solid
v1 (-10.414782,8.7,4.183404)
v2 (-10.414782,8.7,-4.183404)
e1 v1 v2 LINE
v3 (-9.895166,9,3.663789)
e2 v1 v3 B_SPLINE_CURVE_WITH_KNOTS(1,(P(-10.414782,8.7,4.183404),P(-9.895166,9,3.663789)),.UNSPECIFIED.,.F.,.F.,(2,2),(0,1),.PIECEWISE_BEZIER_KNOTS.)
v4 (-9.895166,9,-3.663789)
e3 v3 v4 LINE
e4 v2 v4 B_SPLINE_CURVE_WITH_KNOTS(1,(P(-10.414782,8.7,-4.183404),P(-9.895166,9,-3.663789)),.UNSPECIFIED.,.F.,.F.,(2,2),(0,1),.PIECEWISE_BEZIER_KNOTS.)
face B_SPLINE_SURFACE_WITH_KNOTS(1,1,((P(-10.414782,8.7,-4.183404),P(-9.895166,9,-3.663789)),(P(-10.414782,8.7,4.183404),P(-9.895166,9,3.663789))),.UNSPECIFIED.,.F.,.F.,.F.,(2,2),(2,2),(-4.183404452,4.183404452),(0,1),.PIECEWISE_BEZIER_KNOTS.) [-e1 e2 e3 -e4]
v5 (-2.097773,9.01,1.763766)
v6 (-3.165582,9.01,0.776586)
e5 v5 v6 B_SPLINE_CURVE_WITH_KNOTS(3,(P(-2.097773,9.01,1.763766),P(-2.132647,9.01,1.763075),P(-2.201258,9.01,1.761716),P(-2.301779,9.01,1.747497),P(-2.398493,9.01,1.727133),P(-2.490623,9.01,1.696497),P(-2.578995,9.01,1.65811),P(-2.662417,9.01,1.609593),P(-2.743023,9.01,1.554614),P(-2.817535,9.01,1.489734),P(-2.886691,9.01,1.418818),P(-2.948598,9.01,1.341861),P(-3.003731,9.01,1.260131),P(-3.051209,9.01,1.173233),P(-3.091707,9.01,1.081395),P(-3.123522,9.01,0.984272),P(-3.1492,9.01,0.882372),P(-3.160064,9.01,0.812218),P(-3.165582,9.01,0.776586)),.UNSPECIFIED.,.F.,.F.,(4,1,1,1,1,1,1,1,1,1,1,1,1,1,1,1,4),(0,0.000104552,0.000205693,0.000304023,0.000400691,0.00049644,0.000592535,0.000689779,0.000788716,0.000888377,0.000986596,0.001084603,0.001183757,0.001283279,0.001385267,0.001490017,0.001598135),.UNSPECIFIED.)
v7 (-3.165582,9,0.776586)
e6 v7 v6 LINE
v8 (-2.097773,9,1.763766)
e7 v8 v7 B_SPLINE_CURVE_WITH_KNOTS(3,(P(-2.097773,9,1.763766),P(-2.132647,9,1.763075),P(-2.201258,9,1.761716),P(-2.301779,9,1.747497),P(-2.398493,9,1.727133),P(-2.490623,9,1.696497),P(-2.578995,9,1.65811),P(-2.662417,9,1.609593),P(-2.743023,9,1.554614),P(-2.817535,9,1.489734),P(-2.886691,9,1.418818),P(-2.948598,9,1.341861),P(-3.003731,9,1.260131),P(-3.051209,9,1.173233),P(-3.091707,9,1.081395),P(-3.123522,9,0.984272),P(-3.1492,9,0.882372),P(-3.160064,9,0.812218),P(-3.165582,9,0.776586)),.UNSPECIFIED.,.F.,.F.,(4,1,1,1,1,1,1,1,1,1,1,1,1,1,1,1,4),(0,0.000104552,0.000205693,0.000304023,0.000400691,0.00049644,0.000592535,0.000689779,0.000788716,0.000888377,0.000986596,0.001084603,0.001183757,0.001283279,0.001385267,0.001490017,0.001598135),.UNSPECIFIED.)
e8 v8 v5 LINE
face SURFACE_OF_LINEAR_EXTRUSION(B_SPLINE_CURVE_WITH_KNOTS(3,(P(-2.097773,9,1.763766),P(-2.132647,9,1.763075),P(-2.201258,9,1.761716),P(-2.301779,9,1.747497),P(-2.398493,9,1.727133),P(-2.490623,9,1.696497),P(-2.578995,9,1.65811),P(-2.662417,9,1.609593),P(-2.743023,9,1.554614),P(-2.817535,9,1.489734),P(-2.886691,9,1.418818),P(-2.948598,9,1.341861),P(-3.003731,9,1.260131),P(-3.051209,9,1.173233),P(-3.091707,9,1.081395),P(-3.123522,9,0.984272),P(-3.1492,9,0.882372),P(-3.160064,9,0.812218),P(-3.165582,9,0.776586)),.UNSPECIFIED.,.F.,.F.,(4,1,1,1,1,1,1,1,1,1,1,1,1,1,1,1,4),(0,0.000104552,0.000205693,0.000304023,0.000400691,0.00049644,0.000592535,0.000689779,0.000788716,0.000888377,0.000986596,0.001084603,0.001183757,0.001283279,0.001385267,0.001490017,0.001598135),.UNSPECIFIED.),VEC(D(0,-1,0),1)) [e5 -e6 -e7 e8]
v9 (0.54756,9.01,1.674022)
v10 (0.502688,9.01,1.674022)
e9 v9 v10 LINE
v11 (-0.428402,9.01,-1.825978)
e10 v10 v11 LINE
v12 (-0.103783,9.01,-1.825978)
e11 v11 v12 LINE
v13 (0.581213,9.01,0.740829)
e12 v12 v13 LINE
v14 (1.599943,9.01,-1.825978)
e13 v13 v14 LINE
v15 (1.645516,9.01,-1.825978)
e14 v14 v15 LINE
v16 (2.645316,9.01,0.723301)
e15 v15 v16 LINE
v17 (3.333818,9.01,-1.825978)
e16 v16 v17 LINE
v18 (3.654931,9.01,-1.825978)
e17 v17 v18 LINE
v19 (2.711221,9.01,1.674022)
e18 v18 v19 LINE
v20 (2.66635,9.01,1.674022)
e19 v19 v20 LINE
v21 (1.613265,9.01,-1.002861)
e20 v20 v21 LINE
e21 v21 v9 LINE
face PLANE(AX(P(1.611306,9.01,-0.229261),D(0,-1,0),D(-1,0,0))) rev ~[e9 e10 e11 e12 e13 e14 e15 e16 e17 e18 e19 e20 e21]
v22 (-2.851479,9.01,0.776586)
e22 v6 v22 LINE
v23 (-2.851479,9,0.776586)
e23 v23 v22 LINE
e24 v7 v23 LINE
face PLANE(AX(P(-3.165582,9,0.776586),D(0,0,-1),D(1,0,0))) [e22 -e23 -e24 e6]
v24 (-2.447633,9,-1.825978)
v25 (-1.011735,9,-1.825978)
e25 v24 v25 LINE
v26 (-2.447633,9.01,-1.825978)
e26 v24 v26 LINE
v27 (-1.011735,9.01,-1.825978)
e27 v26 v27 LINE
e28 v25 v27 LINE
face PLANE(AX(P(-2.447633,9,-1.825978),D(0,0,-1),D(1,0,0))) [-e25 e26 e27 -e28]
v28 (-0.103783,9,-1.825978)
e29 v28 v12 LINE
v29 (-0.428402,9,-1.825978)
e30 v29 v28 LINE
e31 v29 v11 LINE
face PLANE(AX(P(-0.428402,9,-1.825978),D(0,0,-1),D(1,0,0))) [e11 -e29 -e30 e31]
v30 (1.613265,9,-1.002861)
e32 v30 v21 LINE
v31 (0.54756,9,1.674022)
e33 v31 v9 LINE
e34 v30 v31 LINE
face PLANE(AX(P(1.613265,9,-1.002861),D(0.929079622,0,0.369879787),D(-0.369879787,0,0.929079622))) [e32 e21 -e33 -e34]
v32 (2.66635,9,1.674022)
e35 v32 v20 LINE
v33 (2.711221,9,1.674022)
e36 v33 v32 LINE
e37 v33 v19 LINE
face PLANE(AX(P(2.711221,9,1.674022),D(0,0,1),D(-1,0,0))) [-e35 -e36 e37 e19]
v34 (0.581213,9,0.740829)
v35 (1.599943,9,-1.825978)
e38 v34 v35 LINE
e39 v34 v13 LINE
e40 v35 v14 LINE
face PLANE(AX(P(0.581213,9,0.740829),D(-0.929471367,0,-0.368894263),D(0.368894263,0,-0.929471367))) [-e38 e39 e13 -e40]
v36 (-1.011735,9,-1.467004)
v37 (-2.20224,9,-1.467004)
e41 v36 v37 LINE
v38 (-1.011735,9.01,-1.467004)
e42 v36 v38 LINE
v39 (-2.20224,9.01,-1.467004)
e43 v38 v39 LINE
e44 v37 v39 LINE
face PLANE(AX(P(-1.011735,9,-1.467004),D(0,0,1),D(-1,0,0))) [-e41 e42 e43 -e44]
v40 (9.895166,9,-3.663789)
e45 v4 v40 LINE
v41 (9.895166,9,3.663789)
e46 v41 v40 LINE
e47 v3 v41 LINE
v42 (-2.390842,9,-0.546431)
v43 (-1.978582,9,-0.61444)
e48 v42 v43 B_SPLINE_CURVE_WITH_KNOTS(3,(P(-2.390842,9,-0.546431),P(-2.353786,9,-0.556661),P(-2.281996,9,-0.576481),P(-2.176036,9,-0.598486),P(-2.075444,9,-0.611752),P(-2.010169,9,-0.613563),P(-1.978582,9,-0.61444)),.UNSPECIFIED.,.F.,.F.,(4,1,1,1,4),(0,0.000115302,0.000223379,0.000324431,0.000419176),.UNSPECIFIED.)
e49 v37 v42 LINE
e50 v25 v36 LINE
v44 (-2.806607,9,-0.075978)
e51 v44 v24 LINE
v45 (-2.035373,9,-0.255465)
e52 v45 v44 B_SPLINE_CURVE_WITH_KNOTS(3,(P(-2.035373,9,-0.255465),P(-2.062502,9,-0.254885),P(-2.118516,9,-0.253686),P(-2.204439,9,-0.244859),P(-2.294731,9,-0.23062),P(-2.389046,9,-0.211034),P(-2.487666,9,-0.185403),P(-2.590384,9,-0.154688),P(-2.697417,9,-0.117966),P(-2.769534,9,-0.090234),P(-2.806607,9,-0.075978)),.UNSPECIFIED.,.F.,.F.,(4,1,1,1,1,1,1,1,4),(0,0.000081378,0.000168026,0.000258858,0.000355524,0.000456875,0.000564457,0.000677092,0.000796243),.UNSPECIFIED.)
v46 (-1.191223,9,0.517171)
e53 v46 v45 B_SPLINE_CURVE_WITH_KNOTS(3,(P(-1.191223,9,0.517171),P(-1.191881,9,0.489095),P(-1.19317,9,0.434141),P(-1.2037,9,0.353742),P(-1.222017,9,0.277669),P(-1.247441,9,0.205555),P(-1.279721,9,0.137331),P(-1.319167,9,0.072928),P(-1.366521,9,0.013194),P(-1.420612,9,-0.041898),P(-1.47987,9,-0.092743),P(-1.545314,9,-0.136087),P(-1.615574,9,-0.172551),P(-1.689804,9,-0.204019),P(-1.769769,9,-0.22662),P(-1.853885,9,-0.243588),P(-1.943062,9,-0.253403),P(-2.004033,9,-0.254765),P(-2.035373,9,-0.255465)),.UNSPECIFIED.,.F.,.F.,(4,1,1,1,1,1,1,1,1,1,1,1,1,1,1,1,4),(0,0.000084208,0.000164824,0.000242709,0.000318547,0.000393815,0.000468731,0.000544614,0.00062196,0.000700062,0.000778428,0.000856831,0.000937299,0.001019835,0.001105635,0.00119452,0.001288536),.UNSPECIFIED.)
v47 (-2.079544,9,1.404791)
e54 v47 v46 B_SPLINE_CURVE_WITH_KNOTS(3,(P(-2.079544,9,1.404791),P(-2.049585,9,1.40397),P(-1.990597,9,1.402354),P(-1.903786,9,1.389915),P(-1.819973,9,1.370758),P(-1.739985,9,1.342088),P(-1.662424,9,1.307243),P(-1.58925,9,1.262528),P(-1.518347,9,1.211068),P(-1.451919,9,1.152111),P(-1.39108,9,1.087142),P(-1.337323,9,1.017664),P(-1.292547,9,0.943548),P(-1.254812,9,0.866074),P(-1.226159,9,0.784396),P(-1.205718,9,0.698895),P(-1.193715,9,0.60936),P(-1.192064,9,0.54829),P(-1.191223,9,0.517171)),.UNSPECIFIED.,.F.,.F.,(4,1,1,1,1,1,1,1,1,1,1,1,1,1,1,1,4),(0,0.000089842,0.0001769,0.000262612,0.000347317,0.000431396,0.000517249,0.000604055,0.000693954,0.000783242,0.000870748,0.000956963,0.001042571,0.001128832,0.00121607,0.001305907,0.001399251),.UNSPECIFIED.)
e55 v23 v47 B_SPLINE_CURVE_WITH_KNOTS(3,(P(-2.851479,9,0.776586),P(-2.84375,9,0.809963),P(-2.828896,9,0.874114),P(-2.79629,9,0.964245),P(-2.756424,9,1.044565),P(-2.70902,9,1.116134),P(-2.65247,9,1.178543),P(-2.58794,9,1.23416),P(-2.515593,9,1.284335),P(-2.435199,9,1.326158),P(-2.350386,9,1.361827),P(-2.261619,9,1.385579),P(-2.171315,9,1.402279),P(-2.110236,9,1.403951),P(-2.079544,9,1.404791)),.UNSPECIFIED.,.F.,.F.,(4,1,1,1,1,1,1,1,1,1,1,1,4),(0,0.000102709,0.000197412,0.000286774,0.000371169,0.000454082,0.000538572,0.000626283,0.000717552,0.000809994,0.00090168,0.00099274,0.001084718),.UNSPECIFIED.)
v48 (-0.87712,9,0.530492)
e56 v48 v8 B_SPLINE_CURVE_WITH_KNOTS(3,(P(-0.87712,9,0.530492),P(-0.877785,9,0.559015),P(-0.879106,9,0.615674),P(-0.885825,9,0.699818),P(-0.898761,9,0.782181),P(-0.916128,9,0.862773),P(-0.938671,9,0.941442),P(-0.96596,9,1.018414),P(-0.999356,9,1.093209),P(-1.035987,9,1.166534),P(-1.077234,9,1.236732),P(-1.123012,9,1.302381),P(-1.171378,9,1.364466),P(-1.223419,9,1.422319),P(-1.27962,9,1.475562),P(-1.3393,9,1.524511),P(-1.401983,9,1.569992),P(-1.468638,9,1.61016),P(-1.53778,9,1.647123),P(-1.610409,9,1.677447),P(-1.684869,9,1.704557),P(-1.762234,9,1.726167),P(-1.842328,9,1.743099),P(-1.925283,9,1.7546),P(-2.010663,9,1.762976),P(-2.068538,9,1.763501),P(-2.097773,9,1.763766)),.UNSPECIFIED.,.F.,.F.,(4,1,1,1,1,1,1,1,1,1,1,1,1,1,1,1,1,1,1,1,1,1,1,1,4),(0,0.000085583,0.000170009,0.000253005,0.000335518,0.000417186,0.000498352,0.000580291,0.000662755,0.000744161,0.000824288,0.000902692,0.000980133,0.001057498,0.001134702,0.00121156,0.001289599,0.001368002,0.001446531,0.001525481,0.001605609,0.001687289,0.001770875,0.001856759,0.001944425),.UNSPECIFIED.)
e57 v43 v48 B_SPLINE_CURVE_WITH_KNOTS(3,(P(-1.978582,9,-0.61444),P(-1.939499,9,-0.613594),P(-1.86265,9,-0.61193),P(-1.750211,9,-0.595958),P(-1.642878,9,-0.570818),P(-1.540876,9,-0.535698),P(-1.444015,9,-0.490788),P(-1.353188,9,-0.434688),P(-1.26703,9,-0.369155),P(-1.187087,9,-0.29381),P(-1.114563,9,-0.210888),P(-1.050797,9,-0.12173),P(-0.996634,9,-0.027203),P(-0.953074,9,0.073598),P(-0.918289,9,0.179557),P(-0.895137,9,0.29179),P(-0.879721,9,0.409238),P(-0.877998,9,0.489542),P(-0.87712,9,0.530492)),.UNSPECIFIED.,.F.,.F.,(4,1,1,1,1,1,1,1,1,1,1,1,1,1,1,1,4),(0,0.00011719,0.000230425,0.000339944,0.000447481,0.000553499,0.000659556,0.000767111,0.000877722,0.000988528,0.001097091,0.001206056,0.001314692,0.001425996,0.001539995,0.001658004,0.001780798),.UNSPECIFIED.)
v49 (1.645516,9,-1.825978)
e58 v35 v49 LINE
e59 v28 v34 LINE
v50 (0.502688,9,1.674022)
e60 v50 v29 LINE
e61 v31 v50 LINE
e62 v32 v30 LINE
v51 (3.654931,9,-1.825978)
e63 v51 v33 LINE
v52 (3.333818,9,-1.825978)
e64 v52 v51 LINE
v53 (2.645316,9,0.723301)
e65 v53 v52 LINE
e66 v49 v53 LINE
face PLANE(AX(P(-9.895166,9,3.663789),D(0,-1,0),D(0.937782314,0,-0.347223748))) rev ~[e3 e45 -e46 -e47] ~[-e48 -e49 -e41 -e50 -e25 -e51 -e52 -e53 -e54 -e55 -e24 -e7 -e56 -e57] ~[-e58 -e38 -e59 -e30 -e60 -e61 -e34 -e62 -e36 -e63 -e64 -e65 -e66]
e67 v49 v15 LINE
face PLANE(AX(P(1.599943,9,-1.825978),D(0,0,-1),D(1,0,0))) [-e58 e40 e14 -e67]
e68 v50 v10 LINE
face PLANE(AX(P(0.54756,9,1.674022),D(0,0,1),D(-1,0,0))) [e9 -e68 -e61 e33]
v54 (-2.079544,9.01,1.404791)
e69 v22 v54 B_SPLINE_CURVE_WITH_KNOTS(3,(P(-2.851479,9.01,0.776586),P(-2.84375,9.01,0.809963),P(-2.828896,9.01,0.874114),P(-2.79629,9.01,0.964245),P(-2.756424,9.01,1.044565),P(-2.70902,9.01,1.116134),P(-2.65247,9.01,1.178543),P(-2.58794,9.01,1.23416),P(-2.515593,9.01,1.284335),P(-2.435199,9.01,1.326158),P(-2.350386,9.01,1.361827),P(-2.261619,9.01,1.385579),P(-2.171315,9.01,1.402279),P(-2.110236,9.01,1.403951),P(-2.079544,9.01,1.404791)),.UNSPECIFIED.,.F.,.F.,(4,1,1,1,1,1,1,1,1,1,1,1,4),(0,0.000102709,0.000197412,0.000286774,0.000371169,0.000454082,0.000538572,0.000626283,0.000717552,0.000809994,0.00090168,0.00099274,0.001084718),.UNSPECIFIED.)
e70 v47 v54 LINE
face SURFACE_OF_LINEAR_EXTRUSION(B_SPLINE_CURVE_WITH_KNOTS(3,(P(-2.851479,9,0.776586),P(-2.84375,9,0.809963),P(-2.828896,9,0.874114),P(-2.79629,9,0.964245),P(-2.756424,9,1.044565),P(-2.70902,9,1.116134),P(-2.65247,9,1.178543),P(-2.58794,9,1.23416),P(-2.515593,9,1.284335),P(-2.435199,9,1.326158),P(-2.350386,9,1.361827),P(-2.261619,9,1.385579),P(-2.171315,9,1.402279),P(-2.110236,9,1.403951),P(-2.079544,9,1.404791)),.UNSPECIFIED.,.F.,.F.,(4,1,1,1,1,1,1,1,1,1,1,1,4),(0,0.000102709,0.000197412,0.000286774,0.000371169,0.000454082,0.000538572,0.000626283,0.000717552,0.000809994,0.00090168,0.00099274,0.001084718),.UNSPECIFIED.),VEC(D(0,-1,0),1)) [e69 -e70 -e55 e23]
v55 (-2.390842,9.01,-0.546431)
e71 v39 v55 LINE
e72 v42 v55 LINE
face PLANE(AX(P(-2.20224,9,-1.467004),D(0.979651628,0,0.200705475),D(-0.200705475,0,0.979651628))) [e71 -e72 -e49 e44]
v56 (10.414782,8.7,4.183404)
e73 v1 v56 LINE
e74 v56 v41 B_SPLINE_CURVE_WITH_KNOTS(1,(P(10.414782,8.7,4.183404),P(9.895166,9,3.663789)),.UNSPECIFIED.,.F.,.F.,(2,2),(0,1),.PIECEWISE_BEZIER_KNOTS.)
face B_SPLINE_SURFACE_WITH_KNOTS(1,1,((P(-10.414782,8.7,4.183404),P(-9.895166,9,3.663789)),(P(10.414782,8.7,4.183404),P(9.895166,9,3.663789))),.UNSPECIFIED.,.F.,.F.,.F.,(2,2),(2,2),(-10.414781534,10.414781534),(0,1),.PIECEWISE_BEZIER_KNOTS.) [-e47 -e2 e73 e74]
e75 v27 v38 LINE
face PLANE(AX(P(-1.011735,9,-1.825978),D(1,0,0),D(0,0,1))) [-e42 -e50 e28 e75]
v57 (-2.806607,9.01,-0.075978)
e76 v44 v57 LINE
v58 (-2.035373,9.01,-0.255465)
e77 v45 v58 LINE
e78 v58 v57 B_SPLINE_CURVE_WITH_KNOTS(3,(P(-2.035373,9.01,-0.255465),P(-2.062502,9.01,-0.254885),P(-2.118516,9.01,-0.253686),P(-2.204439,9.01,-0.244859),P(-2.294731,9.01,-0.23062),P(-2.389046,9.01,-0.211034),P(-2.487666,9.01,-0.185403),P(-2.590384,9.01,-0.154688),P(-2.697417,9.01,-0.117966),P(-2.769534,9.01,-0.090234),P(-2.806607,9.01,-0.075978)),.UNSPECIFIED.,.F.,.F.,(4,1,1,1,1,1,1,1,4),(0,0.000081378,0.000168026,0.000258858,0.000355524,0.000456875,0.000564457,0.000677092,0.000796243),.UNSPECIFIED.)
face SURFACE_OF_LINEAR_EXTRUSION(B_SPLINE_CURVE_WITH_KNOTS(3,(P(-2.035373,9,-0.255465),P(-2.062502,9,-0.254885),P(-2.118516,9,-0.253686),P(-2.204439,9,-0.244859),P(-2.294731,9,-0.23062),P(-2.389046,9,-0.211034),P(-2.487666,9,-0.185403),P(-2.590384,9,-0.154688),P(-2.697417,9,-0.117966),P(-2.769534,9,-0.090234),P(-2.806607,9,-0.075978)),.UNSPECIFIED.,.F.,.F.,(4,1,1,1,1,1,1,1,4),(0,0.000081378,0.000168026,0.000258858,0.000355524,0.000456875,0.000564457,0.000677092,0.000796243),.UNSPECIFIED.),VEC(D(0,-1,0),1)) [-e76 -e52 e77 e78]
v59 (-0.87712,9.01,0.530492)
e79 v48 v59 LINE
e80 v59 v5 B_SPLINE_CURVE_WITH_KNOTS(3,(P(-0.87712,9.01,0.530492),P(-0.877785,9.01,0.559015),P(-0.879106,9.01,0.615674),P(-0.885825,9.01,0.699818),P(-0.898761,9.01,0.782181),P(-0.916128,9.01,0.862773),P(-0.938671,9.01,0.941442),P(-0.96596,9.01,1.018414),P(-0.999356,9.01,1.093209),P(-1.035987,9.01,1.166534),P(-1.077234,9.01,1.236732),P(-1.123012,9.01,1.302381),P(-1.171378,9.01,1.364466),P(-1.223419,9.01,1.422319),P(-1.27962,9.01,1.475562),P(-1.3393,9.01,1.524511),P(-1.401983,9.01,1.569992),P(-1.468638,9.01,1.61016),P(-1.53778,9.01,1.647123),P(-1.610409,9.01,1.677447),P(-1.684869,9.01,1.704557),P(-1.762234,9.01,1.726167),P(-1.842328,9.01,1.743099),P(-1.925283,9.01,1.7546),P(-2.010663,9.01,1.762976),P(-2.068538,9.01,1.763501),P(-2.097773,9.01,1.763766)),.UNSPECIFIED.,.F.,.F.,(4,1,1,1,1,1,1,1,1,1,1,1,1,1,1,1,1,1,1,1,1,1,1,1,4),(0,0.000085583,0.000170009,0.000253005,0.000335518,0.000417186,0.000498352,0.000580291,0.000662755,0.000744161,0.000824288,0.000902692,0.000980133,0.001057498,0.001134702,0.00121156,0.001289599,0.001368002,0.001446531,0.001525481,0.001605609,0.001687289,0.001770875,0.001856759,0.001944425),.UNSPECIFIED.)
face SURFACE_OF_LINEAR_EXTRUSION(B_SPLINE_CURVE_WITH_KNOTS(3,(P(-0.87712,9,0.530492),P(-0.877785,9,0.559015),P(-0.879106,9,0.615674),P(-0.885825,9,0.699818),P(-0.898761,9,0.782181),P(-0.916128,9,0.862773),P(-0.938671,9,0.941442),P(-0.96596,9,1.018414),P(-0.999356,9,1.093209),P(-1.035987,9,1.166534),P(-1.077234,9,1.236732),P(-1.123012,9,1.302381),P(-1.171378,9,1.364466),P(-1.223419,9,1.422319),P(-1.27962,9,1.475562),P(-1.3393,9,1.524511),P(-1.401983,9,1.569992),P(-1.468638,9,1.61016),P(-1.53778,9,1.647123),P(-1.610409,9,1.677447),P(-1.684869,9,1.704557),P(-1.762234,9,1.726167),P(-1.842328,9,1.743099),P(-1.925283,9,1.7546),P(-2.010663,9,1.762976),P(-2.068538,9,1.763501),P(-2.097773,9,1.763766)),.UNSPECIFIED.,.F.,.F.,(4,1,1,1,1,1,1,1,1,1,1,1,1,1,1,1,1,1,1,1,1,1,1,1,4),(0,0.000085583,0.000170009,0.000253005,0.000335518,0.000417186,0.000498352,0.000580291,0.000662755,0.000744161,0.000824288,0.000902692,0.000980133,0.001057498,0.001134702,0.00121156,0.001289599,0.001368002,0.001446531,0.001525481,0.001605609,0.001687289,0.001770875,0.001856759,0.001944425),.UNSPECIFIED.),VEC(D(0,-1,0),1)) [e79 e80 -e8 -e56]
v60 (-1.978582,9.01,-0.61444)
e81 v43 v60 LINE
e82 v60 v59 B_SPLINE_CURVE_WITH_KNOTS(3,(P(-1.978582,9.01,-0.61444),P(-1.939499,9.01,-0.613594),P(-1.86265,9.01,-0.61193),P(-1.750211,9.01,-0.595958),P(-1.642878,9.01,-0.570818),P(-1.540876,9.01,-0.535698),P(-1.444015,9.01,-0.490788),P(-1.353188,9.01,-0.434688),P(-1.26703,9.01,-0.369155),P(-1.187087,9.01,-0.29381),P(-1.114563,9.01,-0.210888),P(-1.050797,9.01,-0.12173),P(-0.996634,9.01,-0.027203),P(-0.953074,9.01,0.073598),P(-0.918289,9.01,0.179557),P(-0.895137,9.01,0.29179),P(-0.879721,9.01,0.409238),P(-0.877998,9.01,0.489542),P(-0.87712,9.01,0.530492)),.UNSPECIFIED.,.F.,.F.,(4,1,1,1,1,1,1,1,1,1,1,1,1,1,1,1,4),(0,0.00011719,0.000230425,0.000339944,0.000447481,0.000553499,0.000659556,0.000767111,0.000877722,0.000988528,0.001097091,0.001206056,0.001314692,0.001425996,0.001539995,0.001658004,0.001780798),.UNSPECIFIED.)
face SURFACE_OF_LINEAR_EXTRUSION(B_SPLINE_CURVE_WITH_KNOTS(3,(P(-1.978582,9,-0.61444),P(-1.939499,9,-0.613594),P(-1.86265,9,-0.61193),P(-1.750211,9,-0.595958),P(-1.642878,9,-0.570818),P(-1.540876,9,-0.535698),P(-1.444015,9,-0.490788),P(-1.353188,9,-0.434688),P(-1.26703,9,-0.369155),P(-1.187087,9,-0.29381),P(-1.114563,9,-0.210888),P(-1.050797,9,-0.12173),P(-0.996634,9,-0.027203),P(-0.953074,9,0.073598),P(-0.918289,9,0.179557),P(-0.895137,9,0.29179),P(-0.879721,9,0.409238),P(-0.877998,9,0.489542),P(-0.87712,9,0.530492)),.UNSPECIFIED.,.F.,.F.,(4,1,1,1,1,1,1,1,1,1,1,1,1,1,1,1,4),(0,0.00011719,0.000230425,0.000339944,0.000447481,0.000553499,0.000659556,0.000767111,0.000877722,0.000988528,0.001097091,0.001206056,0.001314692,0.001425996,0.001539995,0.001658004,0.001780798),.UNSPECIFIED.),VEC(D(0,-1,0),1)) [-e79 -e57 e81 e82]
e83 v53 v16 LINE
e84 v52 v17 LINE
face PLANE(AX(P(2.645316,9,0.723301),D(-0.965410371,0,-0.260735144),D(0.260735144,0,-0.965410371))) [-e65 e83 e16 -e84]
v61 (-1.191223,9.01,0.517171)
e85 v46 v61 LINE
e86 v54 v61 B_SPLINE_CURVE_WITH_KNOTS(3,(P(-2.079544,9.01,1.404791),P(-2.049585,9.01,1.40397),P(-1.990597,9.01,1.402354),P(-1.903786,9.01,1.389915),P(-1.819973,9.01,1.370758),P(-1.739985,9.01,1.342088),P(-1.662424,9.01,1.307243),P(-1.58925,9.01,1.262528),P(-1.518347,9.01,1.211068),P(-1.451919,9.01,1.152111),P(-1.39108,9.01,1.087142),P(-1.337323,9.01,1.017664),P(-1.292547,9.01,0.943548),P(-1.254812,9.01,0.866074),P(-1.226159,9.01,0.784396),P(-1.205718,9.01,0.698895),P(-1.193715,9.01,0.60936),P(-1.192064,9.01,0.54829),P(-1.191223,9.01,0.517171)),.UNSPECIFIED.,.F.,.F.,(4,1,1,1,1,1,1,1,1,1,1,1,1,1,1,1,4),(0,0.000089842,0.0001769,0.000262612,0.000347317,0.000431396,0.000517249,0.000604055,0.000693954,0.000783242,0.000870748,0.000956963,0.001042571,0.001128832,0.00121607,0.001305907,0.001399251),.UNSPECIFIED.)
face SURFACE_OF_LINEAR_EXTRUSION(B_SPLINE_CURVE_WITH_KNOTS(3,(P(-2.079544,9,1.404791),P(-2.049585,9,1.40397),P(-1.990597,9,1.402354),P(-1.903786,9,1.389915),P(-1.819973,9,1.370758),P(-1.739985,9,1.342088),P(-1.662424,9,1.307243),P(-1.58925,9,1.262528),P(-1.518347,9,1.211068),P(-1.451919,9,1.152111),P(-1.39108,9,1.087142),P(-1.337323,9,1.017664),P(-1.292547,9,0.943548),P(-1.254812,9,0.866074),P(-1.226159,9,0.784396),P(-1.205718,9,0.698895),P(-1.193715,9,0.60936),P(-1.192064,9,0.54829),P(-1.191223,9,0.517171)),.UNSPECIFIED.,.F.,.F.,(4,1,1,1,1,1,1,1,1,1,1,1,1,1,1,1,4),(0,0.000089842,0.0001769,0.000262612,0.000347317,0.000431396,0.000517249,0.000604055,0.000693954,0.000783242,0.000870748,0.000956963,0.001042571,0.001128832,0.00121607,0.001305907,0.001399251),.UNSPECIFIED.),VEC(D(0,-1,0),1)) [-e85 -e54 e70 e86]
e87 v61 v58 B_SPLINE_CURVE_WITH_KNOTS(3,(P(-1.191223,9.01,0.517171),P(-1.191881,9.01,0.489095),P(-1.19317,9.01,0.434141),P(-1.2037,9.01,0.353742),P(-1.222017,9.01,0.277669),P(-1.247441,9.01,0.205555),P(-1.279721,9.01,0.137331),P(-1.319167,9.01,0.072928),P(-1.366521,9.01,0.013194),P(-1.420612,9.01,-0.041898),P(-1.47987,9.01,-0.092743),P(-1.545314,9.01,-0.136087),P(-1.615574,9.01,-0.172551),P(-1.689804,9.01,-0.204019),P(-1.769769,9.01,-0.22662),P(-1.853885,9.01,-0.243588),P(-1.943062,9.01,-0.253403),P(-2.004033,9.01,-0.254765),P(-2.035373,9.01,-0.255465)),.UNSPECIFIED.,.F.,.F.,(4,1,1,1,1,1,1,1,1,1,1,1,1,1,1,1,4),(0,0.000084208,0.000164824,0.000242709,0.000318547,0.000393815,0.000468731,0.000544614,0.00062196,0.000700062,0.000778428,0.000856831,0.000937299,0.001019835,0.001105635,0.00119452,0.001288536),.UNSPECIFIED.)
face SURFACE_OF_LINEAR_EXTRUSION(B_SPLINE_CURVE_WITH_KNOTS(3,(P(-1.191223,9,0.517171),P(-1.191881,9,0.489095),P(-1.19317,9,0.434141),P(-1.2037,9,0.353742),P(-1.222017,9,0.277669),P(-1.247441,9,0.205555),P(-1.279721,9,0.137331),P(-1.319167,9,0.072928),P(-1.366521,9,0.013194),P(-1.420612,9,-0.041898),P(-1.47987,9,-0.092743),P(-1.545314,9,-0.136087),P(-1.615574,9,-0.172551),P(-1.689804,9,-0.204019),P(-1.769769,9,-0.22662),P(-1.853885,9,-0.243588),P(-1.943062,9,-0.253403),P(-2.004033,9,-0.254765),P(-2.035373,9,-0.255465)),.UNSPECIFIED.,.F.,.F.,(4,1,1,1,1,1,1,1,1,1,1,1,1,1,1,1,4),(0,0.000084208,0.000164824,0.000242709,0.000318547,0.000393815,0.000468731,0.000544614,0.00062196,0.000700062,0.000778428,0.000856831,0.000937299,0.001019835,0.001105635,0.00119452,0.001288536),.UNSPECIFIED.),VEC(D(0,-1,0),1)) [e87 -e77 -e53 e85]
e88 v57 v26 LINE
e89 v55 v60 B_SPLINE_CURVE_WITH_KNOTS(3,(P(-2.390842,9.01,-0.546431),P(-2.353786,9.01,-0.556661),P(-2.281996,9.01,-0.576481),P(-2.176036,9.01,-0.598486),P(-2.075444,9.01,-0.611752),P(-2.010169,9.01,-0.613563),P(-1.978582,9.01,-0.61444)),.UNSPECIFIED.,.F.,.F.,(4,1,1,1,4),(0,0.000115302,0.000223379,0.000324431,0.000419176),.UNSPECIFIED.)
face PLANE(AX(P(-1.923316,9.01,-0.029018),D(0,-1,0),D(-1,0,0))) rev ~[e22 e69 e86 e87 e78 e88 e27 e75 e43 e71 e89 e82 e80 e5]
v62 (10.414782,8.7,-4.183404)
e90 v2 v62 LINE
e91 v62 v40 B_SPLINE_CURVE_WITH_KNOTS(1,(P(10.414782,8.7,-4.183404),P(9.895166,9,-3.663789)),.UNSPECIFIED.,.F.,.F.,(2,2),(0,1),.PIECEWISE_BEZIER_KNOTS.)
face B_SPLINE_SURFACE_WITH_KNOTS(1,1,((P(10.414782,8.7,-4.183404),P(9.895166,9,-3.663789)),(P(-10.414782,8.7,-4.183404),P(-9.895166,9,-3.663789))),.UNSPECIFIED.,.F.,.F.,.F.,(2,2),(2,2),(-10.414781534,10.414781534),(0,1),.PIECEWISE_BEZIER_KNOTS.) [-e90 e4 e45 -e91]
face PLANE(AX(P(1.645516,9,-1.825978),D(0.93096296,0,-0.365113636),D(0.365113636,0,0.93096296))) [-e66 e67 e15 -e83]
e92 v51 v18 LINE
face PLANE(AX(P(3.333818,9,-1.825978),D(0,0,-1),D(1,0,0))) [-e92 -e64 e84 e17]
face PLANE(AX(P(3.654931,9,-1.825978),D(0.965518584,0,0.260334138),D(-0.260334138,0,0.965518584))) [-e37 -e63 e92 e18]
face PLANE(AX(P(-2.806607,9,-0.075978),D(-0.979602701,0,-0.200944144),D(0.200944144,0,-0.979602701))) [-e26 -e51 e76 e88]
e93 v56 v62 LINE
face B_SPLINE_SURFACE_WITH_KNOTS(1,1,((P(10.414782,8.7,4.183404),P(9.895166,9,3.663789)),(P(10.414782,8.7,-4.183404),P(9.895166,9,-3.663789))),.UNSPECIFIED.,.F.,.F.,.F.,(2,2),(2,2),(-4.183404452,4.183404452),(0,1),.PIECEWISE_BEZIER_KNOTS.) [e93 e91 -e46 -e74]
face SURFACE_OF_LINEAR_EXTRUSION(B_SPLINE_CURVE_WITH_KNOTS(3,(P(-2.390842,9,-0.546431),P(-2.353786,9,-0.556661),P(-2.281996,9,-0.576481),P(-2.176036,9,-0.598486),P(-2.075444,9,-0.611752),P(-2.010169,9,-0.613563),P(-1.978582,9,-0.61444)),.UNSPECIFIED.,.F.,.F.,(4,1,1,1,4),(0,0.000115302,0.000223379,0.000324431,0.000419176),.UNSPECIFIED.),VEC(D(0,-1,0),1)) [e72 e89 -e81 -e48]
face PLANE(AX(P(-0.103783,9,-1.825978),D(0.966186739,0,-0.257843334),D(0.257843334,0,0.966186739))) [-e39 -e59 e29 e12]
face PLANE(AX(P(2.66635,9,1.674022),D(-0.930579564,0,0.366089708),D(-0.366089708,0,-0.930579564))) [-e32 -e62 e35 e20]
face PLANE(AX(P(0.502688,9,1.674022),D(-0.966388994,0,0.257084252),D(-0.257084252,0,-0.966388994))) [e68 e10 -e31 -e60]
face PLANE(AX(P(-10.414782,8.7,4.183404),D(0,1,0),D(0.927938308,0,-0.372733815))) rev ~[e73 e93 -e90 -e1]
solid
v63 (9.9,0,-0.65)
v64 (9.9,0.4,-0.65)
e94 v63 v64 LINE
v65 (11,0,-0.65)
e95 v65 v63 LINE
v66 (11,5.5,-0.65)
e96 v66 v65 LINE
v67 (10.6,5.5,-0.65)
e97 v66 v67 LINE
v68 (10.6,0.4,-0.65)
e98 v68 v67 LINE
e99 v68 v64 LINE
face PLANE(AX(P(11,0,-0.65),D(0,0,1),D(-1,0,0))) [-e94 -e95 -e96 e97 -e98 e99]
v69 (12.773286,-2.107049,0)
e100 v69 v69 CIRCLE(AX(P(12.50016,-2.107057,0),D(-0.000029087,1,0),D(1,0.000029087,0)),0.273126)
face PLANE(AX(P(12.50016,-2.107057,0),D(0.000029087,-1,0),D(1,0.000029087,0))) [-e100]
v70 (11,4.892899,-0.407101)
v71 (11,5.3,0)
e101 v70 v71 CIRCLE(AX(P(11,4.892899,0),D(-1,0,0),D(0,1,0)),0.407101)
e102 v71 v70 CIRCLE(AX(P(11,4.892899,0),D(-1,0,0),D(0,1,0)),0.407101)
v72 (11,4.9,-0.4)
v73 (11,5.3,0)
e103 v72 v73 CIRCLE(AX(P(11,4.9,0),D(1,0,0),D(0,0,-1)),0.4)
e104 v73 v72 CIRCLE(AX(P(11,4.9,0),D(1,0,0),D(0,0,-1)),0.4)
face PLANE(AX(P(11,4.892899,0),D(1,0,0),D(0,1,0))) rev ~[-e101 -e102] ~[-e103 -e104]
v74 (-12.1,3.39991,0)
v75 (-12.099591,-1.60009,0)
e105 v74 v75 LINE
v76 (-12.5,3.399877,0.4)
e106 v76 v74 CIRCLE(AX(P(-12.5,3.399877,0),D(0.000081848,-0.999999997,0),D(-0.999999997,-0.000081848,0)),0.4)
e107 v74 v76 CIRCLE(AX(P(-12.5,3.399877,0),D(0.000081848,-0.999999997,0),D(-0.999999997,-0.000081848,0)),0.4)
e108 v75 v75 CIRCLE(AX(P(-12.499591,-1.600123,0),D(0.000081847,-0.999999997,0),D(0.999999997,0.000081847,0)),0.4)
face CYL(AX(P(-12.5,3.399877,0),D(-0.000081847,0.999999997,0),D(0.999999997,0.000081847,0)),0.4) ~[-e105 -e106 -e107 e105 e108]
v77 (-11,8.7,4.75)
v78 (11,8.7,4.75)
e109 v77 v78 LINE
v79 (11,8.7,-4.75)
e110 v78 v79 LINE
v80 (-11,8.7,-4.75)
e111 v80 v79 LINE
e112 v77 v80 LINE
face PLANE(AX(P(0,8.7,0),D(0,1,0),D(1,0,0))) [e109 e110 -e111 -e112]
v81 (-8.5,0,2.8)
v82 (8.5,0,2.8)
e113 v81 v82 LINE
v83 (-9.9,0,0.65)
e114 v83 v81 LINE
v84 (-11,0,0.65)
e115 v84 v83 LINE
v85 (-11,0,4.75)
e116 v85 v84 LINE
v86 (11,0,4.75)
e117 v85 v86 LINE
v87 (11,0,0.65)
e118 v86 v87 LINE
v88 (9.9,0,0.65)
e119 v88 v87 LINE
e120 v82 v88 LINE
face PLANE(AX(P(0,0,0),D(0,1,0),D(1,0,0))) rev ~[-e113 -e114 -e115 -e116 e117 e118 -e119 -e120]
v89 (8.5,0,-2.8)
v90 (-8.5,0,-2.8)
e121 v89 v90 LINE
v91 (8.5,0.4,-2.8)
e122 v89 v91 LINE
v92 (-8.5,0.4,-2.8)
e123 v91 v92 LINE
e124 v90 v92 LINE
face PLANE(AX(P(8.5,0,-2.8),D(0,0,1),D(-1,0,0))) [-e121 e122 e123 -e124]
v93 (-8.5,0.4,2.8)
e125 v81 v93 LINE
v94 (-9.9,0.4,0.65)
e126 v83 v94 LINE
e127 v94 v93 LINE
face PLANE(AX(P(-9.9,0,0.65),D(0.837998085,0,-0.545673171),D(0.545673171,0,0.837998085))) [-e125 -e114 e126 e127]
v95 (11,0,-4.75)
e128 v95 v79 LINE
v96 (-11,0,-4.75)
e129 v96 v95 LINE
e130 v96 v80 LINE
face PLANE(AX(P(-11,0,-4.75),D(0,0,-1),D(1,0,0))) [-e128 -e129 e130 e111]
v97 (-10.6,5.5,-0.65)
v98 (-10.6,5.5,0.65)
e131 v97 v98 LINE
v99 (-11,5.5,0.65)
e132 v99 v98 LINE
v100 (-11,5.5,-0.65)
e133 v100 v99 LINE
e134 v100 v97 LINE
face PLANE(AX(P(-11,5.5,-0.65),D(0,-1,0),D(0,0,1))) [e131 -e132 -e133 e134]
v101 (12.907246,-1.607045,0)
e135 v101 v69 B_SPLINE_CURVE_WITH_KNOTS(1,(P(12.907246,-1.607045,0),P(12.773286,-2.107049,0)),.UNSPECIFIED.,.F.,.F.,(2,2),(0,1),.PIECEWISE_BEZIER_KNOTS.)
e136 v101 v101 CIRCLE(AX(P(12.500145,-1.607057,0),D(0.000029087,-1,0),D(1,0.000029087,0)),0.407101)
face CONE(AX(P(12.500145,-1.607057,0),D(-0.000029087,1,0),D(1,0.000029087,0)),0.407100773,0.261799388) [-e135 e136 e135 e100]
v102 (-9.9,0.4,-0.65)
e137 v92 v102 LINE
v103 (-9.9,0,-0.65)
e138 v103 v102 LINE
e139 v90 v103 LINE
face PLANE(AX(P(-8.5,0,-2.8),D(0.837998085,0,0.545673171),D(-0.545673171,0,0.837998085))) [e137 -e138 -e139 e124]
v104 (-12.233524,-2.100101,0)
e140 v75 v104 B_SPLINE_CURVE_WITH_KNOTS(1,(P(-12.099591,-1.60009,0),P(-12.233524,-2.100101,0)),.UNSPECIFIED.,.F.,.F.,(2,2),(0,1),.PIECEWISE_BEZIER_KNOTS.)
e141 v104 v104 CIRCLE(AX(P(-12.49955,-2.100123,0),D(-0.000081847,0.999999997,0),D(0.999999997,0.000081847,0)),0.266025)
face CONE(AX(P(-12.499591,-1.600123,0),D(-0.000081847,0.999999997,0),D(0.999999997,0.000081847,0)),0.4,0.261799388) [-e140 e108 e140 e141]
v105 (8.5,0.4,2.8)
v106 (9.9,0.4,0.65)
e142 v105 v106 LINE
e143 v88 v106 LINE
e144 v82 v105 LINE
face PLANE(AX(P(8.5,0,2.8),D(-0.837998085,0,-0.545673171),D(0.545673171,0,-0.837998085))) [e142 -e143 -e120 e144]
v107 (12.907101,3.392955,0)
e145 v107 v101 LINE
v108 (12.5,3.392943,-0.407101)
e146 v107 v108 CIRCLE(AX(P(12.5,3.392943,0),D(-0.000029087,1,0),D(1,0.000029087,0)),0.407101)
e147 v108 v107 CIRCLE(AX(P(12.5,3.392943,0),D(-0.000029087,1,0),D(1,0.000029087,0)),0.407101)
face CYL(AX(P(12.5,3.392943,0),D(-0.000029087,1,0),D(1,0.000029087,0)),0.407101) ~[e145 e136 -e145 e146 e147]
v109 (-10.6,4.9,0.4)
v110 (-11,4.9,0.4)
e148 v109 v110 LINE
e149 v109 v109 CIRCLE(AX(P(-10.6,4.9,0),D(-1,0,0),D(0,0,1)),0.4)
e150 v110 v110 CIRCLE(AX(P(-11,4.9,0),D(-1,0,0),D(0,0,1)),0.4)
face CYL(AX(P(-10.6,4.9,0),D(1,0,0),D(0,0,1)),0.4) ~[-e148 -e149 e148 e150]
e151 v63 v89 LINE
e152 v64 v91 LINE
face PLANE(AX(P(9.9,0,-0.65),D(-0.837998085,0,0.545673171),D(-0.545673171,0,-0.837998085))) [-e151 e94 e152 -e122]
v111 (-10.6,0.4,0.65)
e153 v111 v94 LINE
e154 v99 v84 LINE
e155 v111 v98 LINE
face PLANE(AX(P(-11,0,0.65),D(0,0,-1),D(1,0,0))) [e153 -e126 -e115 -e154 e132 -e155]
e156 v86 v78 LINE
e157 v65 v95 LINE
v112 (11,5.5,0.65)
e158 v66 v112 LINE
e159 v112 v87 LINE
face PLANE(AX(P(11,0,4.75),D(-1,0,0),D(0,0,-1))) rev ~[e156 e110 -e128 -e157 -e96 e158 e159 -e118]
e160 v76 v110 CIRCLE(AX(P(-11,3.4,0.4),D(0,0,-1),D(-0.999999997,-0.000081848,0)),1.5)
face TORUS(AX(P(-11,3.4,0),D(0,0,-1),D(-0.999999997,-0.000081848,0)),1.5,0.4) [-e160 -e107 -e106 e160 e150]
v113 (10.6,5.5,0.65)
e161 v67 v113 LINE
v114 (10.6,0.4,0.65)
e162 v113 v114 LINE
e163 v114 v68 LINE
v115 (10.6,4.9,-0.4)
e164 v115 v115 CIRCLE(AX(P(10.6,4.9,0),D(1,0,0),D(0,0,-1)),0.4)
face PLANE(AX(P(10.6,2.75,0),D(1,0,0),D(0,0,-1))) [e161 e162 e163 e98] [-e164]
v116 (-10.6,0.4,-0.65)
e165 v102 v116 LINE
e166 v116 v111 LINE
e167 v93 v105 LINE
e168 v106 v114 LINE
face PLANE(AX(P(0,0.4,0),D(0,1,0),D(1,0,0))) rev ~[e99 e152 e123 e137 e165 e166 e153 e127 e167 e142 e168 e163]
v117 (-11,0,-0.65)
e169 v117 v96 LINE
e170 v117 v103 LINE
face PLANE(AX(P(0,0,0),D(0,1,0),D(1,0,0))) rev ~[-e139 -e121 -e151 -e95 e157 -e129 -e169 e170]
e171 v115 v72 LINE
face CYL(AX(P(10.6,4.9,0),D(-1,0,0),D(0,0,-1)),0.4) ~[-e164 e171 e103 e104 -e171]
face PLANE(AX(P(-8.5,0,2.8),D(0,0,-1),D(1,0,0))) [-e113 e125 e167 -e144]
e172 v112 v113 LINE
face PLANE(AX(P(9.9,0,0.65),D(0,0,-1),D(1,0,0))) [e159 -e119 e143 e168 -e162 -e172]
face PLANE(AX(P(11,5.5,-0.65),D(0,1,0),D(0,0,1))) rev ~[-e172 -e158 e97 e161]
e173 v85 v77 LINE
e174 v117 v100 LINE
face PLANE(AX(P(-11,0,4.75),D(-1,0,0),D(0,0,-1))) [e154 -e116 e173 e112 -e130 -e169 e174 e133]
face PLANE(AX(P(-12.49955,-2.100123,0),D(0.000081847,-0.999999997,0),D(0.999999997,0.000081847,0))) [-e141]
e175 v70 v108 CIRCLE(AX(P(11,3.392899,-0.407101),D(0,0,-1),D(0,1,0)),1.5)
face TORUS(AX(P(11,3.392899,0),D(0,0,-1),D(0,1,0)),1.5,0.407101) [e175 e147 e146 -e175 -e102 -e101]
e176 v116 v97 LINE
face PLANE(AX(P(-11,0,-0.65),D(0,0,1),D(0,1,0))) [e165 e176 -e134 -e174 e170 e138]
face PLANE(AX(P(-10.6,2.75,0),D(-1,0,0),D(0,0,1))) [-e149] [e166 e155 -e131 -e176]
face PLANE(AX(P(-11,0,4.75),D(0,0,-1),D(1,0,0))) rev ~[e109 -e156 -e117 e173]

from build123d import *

# Parameters (mm, degrees)
SKETCH1_W            = 22
SKETCH1_H            = 9.5
BOSS_EXTRUDE1_DEPTH  = 8.7
SKETCH2_W            = 20.829563068
SKETCH2_H            = 8.366808904
BOSS_EXTRUDE2_DEPTH  = 0.3
BOSS_EXTRUDE2_TAPER  = 60
CUT_EXTRUDE1_DEPTH   = 0.4
CUT_EXTRUDE2_DEPTH   = 0.4
SKETCH5_W            = 1.3
SKETCH5_H            = 5.5
CUT_EXTRUDE4_DEPTH   = 0.4
SKETCH6_R            = 0.4
BOSS_EXTRUDE3_DEPTH  = 0.4
SKETCH7_R            = 0.4
BOSS_EXTRUDE4_DEPTH  = 0.4
SKETCH11_R           = 0.407100773
SKETCH14_R           = 0.407100773
BOSS_EXTRUDE6_DEPTH  = 5
SKETCH15_R           = 0.4
SKETCH17_R           = 0.4
BOSS_EXTRUDE7_DEPTH  = 5
SKETCH18_R           = 0.407100773
BOSS_EXTRUDE8_DEPTH  = 0.5
BOSS_EXTRUDE8_TAPER  = 15
SKETCH19_R           = 0.4
BOSS_EXTRUDE9_DEPTH  = 0.5
BOSS_EXTRUDE9_TAPER  = 15
BOSS_EXTRUDE10_DEPTH = 0.01


with BuildPart() as part:
    # Sketch1 → Boss-Extrude1 (new body)
    with BuildSketch(Plane(origin=(0, 0, 0), x_dir=(1, 0, 0), z_dir=(0, 1, 0))):
        Rectangle(SKETCH1_W, SKETCH1_H)
    extrude(amount=BOSS_EXTRUDE1_DEPTH)

    # Sketch3 → Cut-Extrude1 (cut)
    with BuildSketch(Plane(origin=(0, 0, 0), x_dir=(-1, 0, 0), z_dir=(0, -1, 0))):
        Polygon((11, -0.65), (9.9, -0.65), (8.5, -2.8), (-8.5, -2.8), (-9.9, -0.65), (-11, -0.65), (-11, 0.65), (-9.9, 0.65), (-8.5, 2.8), (8.5, 2.8), (9.9, 0.65), (11, 0.65), align=None)
    extrude(amount=-CUT_EXTRUDE1_DEPTH, mode=Mode.SUBTRACT)

    # Sketch4 → Cut-Extrude2 (cut)
    with BuildSketch(Plane(origin=(11, 0, 0), x_dir=(0, 0, -1), z_dir=(1, 0, 0))):
        Polygon((0, 0), (0.65, 0), (0.65, 5.5), (-0.65, 5.5), (-0.65, 0), align=None)
    extrude(amount=-CUT_EXTRUDE2_DEPTH, mode=Mode.SUBTRACT)

    # Sketch5 → Cut-Extrude4 (cut)
    with BuildSketch(Plane.ZY.offset(11)):
        with Locations((0, 2.75)):
            Rectangle(SKETCH5_W, SKETCH5_H)
    extrude(amount=-CUT_EXTRUDE4_DEPTH, mode=Mode.SUBTRACT)

    # Sketch6 → Boss-Extrude3 (add)
    with BuildSketch(Plane(origin=(10.6, 0, 0), x_dir=(0, 0, -1), z_dir=(1, 0, 0))):
        with Locations((0, 4.9)):
            Circle(SKETCH6_R)
    extrude(amount=BOSS_EXTRUDE3_DEPTH)

    # Sketch7 → Boss-Extrude4 (add)
    with BuildSketch(Plane.ZY.offset(10.6)):
        with Locations((0, 4.9)):
            Circle(SKETCH7_R)
    extrude(amount=BOSS_EXTRUDE4_DEPTH)

    # Sweep1: sweep along a path in Sketch13
    with BuildLine(Plane.XY) as sweep1_path:
        ThreePointArc((11, 4.892899227), (12.060644746, 4.453574824), (12.499999999, 3.392942857))
    # Sketch11 → Sweep1 (sweep)
    with BuildSketch(Plane(origin=(11, 0, 0), x_dir=(0, 0, -1), z_dir=(1, 0, 0))):
        with Locations((0, 4.892899227)):
            Circle(SKETCH11_R)
    sweep(path=sweep1_path.line)

    # Sketch14 → Boss-Extrude6 (add)
    with BuildSketch(Plane(origin=(-9.868e-05, 3.392579268, 0), x_dir=(1, 2.9087e-05, 0), z_dir=(2.9087e-05, -1, 0))):
        with Locations((12.500098684, 0)):
            Circle(SKETCH14_R)
    extrude(amount=BOSS_EXTRUDE6_DEPTH)

    # Sweep2: sweep along a path in Sketch16
    with BuildLine(Plane.XY) as sweep2_path:
        ThreePointArc((-12.499999995, 3.399877229), (-12.060703577, 4.460616765), (-11, 4.9))
    # Sketch15 → Sweep2 (sweep)
    with BuildSketch(Plane.ZY.offset(11)):
        with Locations((0, 4.9)):
            Circle(SKETCH15_R)
    sweep(path=sweep2_path.line)

    # Sketch17 → Boss-Extrude7 (add)
    with BuildSketch(Plane(origin=(-0.000278355, 3.400900299, 0), x_dir=(0.999999997, 8.1847e-05, 0), z_dir=(8.1847e-05, -0.999999997, 0))):
        with Locations((-12.499721682, 0)):
            Circle(SKETCH17_R)
    extrude(amount=BOSS_EXTRUDE7_DEPTH)

    # Sketch18 → Boss-Extrude8 (add)
    with BuildSketch(Plane(origin=(4.6755e-05, -1.60742073, 0), x_dir=(1, 2.9087e-05, 0), z_dir=(2.9087e-05, -1, 0))):
        with Locations((12.500098684, 0)):
            Circle(SKETCH18_R)
    extrude(amount=BOSS_EXTRUDE8_DEPTH, taper=BOSS_EXTRUDE8_TAPER)

    # Sketch19 → Boss-Extrude9 (add)
    with BuildSketch(Plane(origin=(0.000130882, -1.599099684, 0), x_dir=(0.999999997, 8.1847e-05, 0), z_dir=(8.1847e-05, -0.999999997, 0))):
        with Locations((-12.499721682, 0)):
            Circle(SKETCH19_R)
    extrude(amount=BOSS_EXTRUDE9_DEPTH, taper=BOSS_EXTRUDE9_TAPER)


with BuildPart() as body_2:
    # Sketch2 → Boss-Extrude2 (new body)
    with BuildSketch(Plane(origin=(0, 8.7, 0), x_dir=(1, 0, 0), z_dir=(0, 1, 0))):
        Rectangle(SKETCH2_W, SKETCH2_H)
    extrude(amount=BOSS_EXTRUDE2_DEPTH, taper=BOSS_EXTRUDE2_TAPER)

    # Sketch20 → Boss-Extrude10 (add)
    with BuildSketch(Plane(origin=(0, 9, 0), x_dir=(1, 0, 0), z_dir=(0, 1, 0))):
        with BuildLine():
            Line((-1.01173536, 1.825977974), (-1.01173536, 1.467003615))
            Line((-1.01173536, 1.467003615), (-2.202240168, 1.467003615))
            Line((-2.202240168, 1.467003615), (-2.390841931, 0.546430699))
            add(Edge.make_bspline(
                [(-2.390841931, 0.546430699), (-2.353786056, 0.556660971), (-2.281996161, 0.576480504), (-2.1760363, 0.598486275), (-2.075444096, 0.611751719), (-2.010168726, 0.613563029), (-1.978582315, 0.614439513)],
                knots=[0, 0, 0, 0, 0.000115302, 0.000223379, 0.000324431, 0.000419176, 0.000419176, 0.000419176, 0.000419176], degree=3))
            add(Edge.make_bspline(
                [(-1.978582315, 0.614439513), (-1.939498576, 0.613593577), (-1.862650178, 0.611930256), (-1.750211231, 0.595958407), (-1.642878338, 0.570818492), (-1.540875968, 0.53569797), (-1.444015417, 0.490788237), (-1.353187856, 0.434688297), (-1.267029943, 0.369154966), (-1.187087349, 0.293809954), (-1.114563041, 0.210888337), (-1.050797051, 0.121730466), (-0.996634461, 0.027202804), (-0.953073706, -0.073597805), (-0.918289372, -0.179556958), (-0.895137377, -0.291789541), (-0.879720668, -0.409237661), (-0.877998282, -0.489542231), (-0.877119976, -0.530492378)],
                knots=[0, 0, 0, 0, 0.00011719, 0.000230425, 0.000339944, 0.000447481, 0.000553499, 0.000659556, 0.000767111, 0.000877722, 0.000988528, 0.001097091, 0.001206056, 0.001314692, 0.001425996, 0.001539995, 0.001658004, 0.001780798, 0.001780798, 0.001780798, 0.001780798], degree=3))
            add(Edge.make_bspline(
                [(-0.877119976, -0.530492378), (-0.877785051, -0.559014599), (-0.879106214, -0.615673586), (-0.885824801, -0.699817787), (-0.898760517, -0.78218062), (-0.916128241, -0.862773012), (-0.938670659, -0.941442384), (-0.965959713, -1.018413912), (-0.999355741, -1.093208519), (-1.035987116, -1.166533914), (-1.077233594, -1.236732421), (-1.123012101, -1.302381407), (-1.171377593, -1.364465689), (-1.223418978, -1.422319422), (-1.279619973, -1.47556244), (-1.33929994, -1.524510721), (-1.401982659, -1.569992051), (-1.468637901, -1.610160247), (-1.537780384, -1.647123203), (-1.610408602, -1.67744674), (-1.684869302, -1.704557268), (-1.762234178, -1.726166796), (-1.84232799, -1.74309935), (-1.925282766, -1.754599951), (-2.010663436, -1.762976388), (-2.068538448, -1.763500745), (-2.097773021, -1.763765615)],
                knots=[0, 0, 0, 0, 8.5583e-05, 0.000170009, 0.000253005, 0.000335518, 0.000417186, 0.000498352, 0.000580291, 0.000662755, 0.000744161, 0.000824288, 0.000902692, 0.000980133, 0.001057498, 0.001134702, 0.00121156, 0.001289599, 0.001368002, 0.001446531, 0.001525481, 0.001605609, 0.001687289, 0.001770875, 0.001856759, 0.001944425, 0.001944425, 0.001944425, 0.001944425], degree=3))
            add(Edge.make_bspline(
                [(-2.097773021, -1.763765615), (-2.132647201, -1.763074777), (-2.201258032, -1.761715635), (-2.301778599, -1.74749715), (-2.398493205, -1.727133234), (-2.490623306, -1.696496964), (-2.57899457, -1.658109669), (-2.662417287, -1.609593498), (-2.743023063, -1.554614394), (-2.8175351, -1.489734041), (-2.886691214, -1.418818359), (-2.948597723, -1.341860718), (-3.003731299, -1.260131276), (-3.051209046, -1.173233121), (-3.091707068, -1.081394591), (-3.123522056, -0.98427159), (-3.149200411, -0.882371586), (-3.160063831, -0.812218075), (-3.165581514, -0.776586128)],
                knots=[0, 0, 0, 0, 0.000104552, 0.000205693, 0.000304023, 0.000400691, 0.00049644, 0.000592535, 0.000689779, 0.000788716, 0.000888377, 0.000986596, 0.001084603, 0.001183757, 0.001283279, 0.001385267, 0.001490017, 0.001598135, 0.001598135, 0.001598135, 0.001598135], degree=3))
            Line((-3.165581514, -0.776586128), (-2.85147895, -0.776586128))
            add(Edge.make_bspline(
                [(-2.85147895, -0.776586128), (-2.843750393, -0.809962581), (-2.828895676, -0.874113975), (-2.796289927, -0.964245317), (-2.756424052, -1.04456454), (-2.709019704, -1.116134124), (-2.652469673, -1.178543121), (-2.587940244, -1.234160183), (-2.515592521, -1.284335312), (-2.435199291, -1.326158079), (-2.350386212, -1.361826833), (-2.261619002, -1.385578528), (-2.171314656, -1.402279421), (-2.110236285, -1.403951181), (-2.079543854, -1.404791256)],
                knots=[0, 0, 0, 0, 0.000102709, 0.000197412, 0.000286774, 0.000371169, 0.000454082, 0.000538572, 0.000626283, 0.000717552, 0.000809994, 0.00090168, 0.00099274, 0.001084718, 0.001084718, 0.001084718, 0.001084718], degree=3))
            add(Edge.make_bspline(
                [(-2.079543854, -1.404791256), (-2.049585409, -1.403970478), (-1.990596987, -1.40235436), (-1.903785601, -1.389915348), (-1.819972726, -1.370757777), (-1.73998537, -1.342087922), (-1.66242383, -1.307243203), (-1.58925006, -1.262528127), (-1.518347182, -1.211068109), (-1.451919049, -1.152111479), (-1.3910796, -1.087141784), (-1.337323479, -1.017664391), (-1.292546565, -0.943547544), (-1.254812456, -0.866074391), (-1.226159157, -0.784395834), (-1.205718176, -0.698894659), (-1.193715117, -0.609359679), (-1.192063937, -0.548290369), (-1.19122254, -0.517171064)],
                knots=[0, 0, 0, 0, 8.9842e-05, 0.0001769, 0.000262612, 0.000347317, 0.000431396, 0.000517249, 0.000604055, 0.000693954, 0.000783242, 0.000870748, 0.000956963, 0.001042571, 0.001128832, 0.00121607, 0.001305907, 0.001399251, 0.001399251, 0.001399251, 0.001399251], degree=3))
            add(Edge.make_bspline(
                [(-1.19122254, -0.517171064), (-1.191881019, -0.489095312), (-1.193169899, -0.434141023), (-1.203700469, -0.353741817), (-1.222017442, -0.277668775), (-1.247441322, -0.205554541), (-1.279720829, -0.137331098), (-1.319167142, -0.072928038), (-1.36652054, -0.013194205), (-1.420612428, 0.041898349), (-1.479870469, 0.092743224), (-1.545314212, 0.13608731), (-1.615574139, 0.172551228), (-1.689803738, 0.204019226), (-1.769768637, 0.226619971), (-1.853885269, 0.243587857), (-1.943061977, 0.25340322), (-2.004032665, 0.254765108), (-2.035373181, 0.255465154)],
                knots=[0, 0, 0, 0, 8.4208e-05, 0.000164824, 0.000242709, 0.000318547, 0.000393815, 0.000468731, 0.000544614, 0.00062196, 0.000700062, 0.000778428, 0.000856831, 0.000937299, 0.001019835, 0.001105635, 0.00119452, 0.001288536, 0.001288536, 0.001288536, 0.001288536], degree=3))
            add(Edge.make_bspline(
                [(-2.035373181, 0.255465154), (-2.06250211, 0.254884563), (-2.118516465, 0.253685789), (-2.204439292, 0.244859292), (-2.294731015, 0.230619998), (-2.38904551, 0.211033751), (-2.487666018, 0.185402674), (-2.590384419, 0.154688173), (-2.697416686, 0.117966174), (-2.76953441, 0.090233961), (-2.806607155, 0.075977974)],
                knots=[0, 0, 0, 0, 8.1378e-05, 0.000168026, 0.000258858, 0.000355524, 0.000456875, 0.000564457, 0.000677092, 0.000796243, 0.000796243, 0.000796243, 0.000796243], degree=3))
            Line((-2.806607155, 0.075977974), (-2.447632796, 1.825977974))
            Line((-2.447632796, 1.825977974), (-1.01173536, 1.825977974))
        make_face()
        Polygon((-0.428402027, 1.825977974), (-0.103782636, 1.825977974), (0.581213358, -0.740828917), (1.599943326, 1.825977974), (1.645516242, 1.825977974), (2.645315922, -0.723300872), (3.333817524, 1.825977974), (3.654931306, 1.825977974), (2.71122137, -1.674022026), (2.666349576, -1.674022026), (1.61326464, 1.002860987), (0.547559511, -1.674022026), (0.502687717, -1.674022026), align=None)
    extrude(amount=BOSS_EXTRUDE10_DEPTH)


solid = Compound([part.part, body_2.part])
